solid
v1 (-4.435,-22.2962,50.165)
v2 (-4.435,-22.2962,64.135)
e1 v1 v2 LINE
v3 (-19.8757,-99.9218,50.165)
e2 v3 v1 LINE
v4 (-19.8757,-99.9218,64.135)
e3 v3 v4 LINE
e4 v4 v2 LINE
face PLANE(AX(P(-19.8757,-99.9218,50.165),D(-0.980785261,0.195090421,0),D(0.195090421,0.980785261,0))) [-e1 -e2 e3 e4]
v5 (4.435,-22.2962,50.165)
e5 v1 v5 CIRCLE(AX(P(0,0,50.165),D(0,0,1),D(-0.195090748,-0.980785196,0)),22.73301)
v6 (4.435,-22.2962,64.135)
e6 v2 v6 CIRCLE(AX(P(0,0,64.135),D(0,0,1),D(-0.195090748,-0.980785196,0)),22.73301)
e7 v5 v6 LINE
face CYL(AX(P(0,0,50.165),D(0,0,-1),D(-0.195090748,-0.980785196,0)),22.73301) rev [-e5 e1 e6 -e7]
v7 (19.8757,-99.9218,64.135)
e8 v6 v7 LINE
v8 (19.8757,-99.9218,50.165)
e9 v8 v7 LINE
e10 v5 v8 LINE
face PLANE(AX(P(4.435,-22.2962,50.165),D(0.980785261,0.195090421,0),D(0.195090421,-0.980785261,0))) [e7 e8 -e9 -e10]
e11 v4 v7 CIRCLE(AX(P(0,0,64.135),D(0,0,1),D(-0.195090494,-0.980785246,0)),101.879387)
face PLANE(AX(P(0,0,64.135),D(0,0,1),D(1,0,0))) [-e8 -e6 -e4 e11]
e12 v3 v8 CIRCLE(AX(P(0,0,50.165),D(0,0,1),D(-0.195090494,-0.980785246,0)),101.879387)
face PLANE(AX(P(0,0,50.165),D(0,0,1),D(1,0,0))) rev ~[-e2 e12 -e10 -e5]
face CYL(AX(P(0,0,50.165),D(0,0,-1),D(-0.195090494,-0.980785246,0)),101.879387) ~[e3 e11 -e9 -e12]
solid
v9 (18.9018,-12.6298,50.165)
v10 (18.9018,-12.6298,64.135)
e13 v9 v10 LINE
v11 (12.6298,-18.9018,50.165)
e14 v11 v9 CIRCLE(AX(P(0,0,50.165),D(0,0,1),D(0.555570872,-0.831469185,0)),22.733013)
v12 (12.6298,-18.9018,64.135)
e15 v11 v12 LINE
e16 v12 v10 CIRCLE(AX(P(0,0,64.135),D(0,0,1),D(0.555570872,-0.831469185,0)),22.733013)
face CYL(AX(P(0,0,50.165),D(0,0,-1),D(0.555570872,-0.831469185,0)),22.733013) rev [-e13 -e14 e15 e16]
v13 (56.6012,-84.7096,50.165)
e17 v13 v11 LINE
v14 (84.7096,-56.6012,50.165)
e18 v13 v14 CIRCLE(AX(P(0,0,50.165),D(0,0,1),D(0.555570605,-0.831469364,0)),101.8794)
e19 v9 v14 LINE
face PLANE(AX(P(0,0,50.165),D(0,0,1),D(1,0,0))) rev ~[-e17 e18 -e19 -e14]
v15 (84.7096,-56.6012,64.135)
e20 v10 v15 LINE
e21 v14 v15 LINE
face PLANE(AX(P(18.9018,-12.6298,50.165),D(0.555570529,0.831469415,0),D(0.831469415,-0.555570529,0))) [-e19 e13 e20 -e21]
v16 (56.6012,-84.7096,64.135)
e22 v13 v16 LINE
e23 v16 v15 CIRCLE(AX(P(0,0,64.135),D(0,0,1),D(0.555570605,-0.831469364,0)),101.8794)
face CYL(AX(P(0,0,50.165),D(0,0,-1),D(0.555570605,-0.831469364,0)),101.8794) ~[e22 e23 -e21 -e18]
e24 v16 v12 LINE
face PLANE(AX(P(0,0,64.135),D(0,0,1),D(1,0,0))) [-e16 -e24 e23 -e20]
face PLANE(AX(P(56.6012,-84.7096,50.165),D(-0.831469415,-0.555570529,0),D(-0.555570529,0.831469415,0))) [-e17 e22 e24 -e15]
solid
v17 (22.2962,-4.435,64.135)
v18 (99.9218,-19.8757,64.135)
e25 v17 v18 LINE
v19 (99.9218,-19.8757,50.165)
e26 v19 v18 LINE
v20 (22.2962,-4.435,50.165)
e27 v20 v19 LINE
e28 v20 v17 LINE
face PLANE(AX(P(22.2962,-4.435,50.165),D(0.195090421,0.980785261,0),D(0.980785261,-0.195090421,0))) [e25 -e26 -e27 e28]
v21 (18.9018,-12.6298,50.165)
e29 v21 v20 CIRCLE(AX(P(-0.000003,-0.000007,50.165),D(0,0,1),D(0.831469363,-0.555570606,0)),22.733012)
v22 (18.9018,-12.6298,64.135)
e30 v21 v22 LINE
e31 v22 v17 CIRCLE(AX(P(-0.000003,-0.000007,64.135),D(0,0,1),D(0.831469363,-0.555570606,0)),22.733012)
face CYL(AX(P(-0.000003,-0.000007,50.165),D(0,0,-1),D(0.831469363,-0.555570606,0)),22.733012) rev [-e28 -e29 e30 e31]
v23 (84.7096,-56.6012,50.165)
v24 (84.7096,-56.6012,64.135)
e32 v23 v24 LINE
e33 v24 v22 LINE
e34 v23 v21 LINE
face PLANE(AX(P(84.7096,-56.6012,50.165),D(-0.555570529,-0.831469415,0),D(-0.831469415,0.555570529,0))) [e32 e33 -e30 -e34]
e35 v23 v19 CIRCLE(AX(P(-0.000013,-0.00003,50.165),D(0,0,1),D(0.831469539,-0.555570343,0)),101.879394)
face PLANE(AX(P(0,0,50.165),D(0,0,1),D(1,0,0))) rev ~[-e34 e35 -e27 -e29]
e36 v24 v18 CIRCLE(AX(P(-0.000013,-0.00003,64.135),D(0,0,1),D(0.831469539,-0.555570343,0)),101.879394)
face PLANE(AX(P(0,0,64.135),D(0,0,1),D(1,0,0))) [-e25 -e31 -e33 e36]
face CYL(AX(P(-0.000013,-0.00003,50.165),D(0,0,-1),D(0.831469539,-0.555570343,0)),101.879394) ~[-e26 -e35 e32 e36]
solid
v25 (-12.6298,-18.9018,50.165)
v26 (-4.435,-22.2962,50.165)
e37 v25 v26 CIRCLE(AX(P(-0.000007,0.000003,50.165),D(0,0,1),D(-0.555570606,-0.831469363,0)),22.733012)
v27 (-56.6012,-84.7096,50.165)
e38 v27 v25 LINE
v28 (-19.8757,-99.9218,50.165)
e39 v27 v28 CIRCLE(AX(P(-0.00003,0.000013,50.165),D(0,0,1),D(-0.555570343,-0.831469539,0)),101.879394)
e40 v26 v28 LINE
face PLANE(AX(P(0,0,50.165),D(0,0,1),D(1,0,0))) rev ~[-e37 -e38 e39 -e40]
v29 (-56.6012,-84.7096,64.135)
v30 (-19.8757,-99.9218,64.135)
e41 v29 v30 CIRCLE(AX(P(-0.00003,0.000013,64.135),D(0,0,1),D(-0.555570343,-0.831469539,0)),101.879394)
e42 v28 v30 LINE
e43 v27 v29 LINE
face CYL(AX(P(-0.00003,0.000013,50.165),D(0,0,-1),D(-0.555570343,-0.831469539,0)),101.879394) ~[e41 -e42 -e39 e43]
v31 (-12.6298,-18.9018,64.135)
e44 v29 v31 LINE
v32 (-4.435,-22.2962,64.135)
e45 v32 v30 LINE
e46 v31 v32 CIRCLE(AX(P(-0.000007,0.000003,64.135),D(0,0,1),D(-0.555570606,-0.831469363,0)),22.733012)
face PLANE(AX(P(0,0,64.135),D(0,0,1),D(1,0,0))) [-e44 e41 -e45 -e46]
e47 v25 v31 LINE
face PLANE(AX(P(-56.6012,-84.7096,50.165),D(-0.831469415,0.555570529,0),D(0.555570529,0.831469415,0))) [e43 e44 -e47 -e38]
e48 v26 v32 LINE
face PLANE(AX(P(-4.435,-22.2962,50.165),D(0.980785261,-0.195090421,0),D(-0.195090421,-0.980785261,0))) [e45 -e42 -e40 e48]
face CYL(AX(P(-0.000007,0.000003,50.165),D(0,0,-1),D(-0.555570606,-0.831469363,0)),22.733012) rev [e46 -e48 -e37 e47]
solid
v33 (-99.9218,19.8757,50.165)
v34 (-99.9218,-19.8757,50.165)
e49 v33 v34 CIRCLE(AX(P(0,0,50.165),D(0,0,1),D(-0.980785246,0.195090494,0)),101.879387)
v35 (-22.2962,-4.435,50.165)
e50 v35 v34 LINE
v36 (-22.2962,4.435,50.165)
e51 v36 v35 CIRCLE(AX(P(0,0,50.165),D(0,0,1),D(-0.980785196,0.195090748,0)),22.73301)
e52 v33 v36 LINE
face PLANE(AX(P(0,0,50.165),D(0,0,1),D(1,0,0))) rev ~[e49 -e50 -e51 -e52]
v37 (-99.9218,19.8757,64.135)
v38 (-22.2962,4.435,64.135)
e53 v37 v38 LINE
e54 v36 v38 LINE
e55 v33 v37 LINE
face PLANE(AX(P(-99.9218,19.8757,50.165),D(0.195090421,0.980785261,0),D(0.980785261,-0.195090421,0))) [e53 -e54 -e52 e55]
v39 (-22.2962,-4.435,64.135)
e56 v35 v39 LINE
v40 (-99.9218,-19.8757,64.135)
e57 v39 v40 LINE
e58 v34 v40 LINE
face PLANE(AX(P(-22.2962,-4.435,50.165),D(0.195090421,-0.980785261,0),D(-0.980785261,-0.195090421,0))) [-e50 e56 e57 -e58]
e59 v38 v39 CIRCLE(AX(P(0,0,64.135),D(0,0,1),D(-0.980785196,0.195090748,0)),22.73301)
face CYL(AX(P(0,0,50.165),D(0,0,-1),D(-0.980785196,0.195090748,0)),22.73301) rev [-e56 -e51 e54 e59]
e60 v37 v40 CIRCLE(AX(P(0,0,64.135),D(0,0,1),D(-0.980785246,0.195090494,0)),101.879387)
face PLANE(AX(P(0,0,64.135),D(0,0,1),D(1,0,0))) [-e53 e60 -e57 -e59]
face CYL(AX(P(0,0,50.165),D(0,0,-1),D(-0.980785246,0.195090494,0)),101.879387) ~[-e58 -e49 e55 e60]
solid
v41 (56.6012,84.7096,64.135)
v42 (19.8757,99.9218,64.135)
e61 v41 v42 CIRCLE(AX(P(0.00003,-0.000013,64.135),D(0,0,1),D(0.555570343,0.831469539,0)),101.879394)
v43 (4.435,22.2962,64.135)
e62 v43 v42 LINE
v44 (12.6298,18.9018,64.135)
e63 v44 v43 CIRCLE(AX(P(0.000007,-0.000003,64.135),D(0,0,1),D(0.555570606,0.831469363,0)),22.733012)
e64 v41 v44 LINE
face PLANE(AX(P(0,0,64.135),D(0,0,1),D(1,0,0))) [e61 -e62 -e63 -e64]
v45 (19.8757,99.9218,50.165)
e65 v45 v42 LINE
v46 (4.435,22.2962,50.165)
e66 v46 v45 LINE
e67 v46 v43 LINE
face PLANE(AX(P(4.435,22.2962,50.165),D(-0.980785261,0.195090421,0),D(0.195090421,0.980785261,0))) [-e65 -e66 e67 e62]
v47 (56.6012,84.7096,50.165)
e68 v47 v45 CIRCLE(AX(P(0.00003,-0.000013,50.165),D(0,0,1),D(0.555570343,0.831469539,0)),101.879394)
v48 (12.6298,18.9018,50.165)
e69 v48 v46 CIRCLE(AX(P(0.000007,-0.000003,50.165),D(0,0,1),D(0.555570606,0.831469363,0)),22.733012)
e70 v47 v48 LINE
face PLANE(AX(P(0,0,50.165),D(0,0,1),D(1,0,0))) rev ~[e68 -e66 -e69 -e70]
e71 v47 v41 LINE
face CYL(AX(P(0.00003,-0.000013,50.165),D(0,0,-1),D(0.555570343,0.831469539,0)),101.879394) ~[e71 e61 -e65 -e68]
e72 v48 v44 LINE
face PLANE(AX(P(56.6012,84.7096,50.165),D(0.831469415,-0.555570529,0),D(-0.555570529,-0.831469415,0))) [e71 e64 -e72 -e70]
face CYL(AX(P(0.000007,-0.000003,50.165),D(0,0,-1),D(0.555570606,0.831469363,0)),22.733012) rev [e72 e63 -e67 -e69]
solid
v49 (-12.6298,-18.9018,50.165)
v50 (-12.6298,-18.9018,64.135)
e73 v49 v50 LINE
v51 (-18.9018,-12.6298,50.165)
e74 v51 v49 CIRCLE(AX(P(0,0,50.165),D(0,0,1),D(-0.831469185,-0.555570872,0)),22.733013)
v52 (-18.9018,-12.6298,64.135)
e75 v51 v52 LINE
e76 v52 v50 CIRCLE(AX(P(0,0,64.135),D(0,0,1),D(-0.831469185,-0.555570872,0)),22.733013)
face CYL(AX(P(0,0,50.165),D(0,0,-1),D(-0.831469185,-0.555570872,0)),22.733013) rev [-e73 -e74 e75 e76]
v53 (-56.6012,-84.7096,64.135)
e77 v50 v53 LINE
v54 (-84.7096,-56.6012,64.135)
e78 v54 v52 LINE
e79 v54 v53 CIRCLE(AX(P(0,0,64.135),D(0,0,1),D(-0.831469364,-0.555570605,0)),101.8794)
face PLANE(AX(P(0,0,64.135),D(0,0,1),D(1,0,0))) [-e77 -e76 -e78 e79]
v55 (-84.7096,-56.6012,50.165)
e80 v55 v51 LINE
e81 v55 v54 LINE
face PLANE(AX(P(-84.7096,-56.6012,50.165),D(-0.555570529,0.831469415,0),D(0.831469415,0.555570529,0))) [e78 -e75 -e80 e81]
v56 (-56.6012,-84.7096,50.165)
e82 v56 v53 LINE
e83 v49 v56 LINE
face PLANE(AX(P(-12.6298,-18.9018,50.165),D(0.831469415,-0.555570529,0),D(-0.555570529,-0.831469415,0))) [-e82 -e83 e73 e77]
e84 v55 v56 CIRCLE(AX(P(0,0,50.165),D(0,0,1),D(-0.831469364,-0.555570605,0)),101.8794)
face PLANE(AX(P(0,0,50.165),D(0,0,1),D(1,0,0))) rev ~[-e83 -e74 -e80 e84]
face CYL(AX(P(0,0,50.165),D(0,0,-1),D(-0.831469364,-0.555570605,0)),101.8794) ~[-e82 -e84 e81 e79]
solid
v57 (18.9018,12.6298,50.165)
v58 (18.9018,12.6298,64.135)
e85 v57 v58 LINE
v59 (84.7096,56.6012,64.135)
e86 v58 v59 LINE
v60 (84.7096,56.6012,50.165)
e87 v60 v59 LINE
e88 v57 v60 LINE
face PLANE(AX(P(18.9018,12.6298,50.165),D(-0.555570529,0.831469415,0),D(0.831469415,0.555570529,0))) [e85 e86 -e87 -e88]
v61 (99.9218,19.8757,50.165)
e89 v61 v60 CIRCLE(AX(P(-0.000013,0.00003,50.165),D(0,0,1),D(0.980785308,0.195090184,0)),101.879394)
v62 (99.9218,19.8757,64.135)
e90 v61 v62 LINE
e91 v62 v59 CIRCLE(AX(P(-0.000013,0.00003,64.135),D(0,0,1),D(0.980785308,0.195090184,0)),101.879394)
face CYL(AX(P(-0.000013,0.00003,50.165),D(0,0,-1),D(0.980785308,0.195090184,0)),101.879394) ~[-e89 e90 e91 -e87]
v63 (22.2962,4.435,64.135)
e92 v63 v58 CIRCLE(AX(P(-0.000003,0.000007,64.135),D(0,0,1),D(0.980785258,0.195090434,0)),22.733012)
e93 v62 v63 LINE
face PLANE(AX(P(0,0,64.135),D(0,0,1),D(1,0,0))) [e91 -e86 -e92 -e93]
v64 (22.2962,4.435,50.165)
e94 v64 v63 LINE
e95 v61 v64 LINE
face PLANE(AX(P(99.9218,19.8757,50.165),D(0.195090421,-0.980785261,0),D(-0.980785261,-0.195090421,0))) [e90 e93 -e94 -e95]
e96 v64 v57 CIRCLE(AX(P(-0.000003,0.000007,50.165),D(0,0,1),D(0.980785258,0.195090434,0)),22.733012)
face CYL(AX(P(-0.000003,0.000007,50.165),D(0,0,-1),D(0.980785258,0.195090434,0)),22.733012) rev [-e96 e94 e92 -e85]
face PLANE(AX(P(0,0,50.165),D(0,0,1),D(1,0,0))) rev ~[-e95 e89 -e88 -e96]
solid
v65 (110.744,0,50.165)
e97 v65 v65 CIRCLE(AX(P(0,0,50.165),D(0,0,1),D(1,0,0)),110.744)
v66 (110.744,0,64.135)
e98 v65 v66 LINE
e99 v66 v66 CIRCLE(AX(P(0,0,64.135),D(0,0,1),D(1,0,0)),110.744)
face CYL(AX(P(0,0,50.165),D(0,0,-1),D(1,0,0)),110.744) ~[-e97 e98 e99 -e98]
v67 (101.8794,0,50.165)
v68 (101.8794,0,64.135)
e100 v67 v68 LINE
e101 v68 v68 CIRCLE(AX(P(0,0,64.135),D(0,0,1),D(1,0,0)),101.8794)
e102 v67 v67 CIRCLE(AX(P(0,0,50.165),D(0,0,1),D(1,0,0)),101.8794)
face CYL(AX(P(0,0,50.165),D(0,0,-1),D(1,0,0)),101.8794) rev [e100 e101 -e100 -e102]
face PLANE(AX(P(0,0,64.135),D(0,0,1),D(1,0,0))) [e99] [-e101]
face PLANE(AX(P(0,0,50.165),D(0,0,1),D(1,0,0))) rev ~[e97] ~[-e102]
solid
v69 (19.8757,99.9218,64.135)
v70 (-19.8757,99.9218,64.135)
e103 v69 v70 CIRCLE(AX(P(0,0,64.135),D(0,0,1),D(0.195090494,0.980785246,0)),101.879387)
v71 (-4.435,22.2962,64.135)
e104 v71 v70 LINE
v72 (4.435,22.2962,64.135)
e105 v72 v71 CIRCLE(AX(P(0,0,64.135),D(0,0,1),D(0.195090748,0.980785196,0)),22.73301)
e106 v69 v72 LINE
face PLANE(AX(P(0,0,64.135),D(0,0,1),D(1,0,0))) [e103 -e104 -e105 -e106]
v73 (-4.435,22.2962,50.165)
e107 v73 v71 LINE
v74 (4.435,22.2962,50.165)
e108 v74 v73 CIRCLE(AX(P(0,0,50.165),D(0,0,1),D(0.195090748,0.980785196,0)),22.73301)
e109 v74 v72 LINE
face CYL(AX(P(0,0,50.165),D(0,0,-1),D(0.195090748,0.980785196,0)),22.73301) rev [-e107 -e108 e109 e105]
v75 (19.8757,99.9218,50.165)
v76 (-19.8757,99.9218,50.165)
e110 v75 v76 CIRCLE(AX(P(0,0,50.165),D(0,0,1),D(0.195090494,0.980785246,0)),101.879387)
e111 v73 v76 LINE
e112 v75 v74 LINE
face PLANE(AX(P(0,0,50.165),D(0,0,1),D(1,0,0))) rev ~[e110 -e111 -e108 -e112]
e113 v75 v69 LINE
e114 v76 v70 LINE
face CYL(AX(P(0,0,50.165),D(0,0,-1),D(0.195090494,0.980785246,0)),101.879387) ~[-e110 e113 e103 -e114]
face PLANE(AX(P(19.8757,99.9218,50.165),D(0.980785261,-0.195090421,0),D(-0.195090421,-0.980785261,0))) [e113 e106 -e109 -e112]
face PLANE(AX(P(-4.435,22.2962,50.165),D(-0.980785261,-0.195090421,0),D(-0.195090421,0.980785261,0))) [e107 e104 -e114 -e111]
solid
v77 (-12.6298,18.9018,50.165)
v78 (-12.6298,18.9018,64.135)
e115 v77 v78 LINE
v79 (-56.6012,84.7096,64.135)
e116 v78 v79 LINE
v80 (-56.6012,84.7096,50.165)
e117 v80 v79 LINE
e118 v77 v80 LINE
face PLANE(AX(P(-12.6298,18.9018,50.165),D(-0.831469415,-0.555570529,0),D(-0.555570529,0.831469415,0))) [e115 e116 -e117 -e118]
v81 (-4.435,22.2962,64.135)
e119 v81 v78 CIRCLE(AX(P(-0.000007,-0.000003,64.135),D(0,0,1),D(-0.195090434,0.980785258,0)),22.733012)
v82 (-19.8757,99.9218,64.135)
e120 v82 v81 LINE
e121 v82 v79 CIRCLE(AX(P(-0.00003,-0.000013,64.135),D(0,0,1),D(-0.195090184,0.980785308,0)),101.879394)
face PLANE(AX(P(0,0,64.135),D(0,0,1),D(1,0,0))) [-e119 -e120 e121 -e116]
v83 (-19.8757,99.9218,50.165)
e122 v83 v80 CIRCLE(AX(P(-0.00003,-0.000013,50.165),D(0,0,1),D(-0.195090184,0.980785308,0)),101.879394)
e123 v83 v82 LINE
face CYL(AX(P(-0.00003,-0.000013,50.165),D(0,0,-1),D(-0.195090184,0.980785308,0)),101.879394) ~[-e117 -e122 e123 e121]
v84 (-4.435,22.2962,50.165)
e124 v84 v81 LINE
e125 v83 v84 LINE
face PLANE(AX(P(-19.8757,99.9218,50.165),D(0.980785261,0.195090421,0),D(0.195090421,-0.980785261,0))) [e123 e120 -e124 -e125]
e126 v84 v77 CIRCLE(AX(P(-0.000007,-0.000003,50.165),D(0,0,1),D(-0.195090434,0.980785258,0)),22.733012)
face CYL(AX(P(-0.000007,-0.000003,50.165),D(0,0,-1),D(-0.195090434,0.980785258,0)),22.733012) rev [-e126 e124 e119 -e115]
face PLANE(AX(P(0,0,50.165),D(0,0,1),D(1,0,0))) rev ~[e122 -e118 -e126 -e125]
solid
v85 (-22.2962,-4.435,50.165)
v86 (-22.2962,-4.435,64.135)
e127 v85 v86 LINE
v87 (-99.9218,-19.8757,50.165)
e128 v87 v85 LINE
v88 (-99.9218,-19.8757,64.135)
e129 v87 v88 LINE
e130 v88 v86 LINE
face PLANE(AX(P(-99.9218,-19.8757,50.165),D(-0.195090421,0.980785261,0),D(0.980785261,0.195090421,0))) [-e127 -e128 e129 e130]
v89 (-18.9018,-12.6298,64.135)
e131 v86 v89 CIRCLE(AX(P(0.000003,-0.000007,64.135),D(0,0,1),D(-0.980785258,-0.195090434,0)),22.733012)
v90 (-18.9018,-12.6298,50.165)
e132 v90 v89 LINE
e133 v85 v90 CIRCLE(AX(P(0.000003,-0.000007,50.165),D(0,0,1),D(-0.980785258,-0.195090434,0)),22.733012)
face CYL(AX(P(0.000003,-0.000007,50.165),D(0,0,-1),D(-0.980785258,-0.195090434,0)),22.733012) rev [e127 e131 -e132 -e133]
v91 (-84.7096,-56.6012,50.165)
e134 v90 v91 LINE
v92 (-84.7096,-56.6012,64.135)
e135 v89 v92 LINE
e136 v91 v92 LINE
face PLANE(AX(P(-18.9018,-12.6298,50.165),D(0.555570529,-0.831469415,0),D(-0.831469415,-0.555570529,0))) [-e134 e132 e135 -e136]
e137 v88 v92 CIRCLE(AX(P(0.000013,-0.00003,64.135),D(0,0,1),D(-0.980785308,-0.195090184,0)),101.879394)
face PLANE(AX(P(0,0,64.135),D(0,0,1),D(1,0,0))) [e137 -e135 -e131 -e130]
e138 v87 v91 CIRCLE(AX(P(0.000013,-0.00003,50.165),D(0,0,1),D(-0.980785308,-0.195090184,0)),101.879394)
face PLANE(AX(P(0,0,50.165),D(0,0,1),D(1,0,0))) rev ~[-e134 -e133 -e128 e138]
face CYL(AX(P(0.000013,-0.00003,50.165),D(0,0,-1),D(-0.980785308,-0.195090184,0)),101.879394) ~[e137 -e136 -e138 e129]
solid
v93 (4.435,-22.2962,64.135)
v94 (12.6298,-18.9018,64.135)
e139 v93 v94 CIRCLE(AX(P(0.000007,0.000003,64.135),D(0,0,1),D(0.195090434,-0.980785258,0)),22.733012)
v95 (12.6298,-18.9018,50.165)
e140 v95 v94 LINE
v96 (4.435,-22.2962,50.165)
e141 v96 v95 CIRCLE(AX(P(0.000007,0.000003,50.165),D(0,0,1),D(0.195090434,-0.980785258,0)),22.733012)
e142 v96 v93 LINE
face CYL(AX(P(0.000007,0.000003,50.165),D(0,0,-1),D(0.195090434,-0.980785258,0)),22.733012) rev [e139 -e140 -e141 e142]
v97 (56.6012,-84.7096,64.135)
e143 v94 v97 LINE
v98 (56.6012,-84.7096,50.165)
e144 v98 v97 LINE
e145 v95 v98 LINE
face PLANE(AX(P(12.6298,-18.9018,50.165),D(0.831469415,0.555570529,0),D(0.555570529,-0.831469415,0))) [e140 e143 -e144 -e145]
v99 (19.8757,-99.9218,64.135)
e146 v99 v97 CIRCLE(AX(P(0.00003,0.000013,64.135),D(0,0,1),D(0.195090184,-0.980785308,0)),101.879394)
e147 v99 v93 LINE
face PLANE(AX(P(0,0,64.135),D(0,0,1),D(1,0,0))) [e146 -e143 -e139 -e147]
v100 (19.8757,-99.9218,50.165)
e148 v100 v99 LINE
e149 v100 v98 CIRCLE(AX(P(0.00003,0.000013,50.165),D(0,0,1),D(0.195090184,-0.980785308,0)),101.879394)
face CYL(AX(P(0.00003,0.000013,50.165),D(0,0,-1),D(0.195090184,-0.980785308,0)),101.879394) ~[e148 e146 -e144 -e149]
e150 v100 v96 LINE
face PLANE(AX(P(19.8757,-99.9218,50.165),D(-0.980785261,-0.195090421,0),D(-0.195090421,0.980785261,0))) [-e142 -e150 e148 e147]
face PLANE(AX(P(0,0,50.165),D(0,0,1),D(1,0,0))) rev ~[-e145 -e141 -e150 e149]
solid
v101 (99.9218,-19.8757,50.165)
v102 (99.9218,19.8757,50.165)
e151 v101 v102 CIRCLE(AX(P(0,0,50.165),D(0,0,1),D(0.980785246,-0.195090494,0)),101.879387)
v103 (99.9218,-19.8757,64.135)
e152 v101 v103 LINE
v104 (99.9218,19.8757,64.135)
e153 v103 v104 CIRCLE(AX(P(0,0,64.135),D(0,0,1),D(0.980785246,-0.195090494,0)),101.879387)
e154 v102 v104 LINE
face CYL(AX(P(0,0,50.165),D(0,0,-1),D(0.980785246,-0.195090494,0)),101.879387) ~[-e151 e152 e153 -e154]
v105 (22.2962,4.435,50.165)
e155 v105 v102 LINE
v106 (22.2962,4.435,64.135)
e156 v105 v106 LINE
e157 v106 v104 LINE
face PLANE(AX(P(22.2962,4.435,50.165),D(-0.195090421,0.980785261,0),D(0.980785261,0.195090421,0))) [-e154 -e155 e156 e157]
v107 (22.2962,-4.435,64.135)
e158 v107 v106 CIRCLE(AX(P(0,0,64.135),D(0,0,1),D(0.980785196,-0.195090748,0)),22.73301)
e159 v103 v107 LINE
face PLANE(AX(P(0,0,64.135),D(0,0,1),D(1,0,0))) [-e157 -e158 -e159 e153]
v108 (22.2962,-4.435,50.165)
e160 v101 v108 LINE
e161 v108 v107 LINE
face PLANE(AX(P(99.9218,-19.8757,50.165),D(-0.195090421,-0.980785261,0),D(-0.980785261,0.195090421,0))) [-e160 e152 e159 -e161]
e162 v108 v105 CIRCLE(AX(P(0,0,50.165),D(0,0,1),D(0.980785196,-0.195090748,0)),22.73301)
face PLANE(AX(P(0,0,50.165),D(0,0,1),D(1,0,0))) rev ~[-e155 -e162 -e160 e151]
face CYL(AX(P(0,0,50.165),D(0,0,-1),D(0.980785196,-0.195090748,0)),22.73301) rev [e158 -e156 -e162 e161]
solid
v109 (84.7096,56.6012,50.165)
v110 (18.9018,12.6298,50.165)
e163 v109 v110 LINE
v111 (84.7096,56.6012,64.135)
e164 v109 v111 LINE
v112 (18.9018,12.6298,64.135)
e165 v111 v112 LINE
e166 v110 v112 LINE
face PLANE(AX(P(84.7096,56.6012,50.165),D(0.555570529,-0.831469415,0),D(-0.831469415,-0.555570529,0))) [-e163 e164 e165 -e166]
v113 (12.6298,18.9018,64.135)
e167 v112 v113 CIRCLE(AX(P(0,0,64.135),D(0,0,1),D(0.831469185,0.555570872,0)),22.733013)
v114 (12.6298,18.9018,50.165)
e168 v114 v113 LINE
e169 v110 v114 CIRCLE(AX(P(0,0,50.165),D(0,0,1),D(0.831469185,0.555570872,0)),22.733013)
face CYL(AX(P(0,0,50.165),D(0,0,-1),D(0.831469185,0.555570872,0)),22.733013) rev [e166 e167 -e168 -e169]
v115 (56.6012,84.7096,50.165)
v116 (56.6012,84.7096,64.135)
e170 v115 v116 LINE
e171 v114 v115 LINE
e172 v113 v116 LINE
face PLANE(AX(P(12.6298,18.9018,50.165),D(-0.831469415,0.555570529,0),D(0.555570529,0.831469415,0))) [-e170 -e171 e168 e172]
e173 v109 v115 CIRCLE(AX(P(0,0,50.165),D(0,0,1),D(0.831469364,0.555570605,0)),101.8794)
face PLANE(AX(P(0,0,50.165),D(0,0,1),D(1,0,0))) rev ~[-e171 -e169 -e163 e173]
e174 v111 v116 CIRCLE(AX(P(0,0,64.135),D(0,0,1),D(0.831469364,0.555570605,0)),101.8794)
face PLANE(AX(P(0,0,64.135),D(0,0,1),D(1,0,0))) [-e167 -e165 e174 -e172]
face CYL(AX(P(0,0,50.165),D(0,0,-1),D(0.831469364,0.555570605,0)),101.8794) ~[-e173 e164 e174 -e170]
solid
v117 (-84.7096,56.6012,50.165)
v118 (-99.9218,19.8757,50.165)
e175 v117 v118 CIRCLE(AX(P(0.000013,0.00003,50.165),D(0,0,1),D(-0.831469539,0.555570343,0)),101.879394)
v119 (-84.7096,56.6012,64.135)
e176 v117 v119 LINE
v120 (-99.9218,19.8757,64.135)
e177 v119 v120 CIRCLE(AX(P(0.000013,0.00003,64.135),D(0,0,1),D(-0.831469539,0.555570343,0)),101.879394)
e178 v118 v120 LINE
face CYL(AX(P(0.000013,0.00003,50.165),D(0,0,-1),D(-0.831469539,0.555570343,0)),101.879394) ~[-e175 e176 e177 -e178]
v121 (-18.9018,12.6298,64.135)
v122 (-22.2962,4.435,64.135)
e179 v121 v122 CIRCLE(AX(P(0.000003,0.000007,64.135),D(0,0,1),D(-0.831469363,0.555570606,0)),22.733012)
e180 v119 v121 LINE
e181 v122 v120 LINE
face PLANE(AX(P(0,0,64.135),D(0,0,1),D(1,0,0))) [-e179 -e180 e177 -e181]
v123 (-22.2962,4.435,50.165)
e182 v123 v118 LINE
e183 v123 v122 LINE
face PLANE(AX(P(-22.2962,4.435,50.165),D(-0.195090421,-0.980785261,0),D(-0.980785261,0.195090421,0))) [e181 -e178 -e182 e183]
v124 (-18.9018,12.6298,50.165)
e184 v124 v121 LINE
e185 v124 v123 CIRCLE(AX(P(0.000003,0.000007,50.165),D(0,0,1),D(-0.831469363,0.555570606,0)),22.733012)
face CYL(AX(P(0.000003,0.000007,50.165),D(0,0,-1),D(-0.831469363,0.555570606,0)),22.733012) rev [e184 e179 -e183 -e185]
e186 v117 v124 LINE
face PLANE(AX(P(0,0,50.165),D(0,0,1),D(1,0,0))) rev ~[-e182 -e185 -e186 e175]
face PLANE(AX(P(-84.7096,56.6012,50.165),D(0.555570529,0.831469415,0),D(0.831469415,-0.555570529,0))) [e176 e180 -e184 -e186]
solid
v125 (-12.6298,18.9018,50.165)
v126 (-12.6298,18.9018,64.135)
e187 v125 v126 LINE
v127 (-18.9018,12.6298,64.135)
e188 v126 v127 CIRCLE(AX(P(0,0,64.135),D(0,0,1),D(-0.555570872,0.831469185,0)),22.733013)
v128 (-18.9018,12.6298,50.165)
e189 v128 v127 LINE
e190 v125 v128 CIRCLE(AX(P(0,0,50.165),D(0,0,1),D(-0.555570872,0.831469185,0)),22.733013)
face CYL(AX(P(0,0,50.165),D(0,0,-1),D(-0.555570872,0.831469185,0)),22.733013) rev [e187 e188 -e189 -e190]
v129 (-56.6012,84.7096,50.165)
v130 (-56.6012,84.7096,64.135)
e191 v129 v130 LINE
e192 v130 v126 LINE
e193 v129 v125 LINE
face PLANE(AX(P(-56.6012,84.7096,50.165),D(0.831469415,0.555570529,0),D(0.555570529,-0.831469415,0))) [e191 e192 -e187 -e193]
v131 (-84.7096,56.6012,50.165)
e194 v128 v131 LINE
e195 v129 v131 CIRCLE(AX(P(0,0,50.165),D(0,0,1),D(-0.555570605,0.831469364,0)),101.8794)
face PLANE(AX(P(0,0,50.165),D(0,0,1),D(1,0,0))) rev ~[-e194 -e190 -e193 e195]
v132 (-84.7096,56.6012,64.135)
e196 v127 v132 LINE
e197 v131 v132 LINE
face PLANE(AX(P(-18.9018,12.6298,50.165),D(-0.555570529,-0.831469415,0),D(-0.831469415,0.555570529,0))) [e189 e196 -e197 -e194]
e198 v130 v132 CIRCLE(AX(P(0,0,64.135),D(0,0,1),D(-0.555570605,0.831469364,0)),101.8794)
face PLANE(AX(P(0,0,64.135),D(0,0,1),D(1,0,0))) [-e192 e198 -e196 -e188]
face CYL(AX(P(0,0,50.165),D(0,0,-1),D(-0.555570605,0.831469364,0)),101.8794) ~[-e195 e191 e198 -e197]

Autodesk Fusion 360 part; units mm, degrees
ref_plane "WorkPlane1" through (0, 0, 50.165) normal (0, 0, 1) x (1, 0, 0)
sketch "Sketch1" plane through (0, 0, 50.165) normal (0, 0, 1) x (1, 0, 0)
  arc A0 (22.2962, -4.435) -> (22.2962, 4.435) centre (0, 0) ccw
  line L0 (22.2962, 4.435) -> (99.9218, 19.8757)
  arc A1 (99.9218, -19.8757) -> (99.9218, 19.8757) centre (0, 0) ccw
  line L1 (99.9218, -19.8757) -> (22.2962, -4.435)
extrude "Extrude1" add sketch "Sketch1" along normal blind 13.97 makes body 1
ref_plane "WorkPlane2" through (0, 0, 50.165) normal (0, 0, 1) x (1, 0, 0)
sketch "Sketch2" plane through (0, 0, 50.165) normal (0, 0, 1) x (1, 0, 0)
  arc A0 (22.2962, 4.435) -> (18.9018, 12.6298) centre (0, 0) ccw
  line L0 (18.9018, 12.6298) -> (84.7096, 56.6012)
  arc A1 (99.9218, 19.8757) -> (84.7096, 56.6012) centre (0, 0) ccw
  line L1 (99.9218, 19.8757) -> (22.2962, 4.435)
extrude "Extrude2" add sketch "Sketch2" along normal blind 13.97 separate body makes body 2
ref_plane "WorkPlane3" through (0, 0, 50.165) normal (0, 0, 1) x (1, 0, 0)
sketch "Sketch3" plane through (0, 0, 50.165) normal (0, 0, 1) x (1, 0, 0)
  arc A0 (18.9018, 12.6298) -> (12.6298, 18.9018) centre (0, 0) ccw
  line L0 (12.6298, 18.9018) -> (56.6012, 84.7096)
  arc A1 (84.7096, 56.6012) -> (56.6012, 84.7096) centre (0, 0) ccw
  line L1 (84.7096, 56.6012) -> (18.9018, 12.6298)
extrude "Extrude3" add sketch "Sketch3" along normal blind 13.97 separate body makes body 3
ref_plane "WorkPlane4" through (0, 0, 50.165) normal (0, 0, 1) x (1, 0, 0)
sketch "Sketch4" plane through (0, 0, 50.165) normal (0, 0, 1) x (1, 0, 0)
  arc A0 (12.6298, 18.9018) -> (4.435, 22.2962) centre (0, 0) ccw
  line L0 (4.435, 22.2962) -> (19.8757, 99.9218)
  arc A1 (56.6012, 84.7096) -> (19.8757, 99.9218) centre (0, 0) ccw
  line L1 (56.6012, 84.7096) -> (12.6298, 18.9018)
extrude "Extrude4" add sketch "Sketch4" along normal blind 13.97 separate body makes body 4
ref_plane "WorkPlane5" through (0, 0, 50.165) normal (0, 0, 1) x (1, 0, 0)
sketch "Sketch5" plane through (0, 0, 50.165) normal (0, 0, 1) x (1, 0, 0)
  arc A0 (4.435, 22.2962) -> (-4.435, 22.2962) centre (0, 0) ccw
  line L0 (-4.435, 22.2962) -> (-19.8757, 99.9218)
  arc A1 (19.8757, 99.9218) -> (-19.8757, 99.9218) centre (0, 0) ccw
  line L1 (19.8757, 99.9218) -> (4.435, 22.2962)
extrude "Extrude5" add sketch "Sketch5" along normal blind 13.97 separate body makes body 5
ref_plane "WorkPlane6" through (0, 0, 50.165) normal (0, 0, 1) x (1, 0, 0)
sketch "Sketch6" plane through (0, 0, 50.165) normal (0, 0, 1) x (1, 0, 0)
  arc A0 (-4.435, 22.2962) -> (-12.6298, 18.9018) centre (0, 0) ccw
  line L0 (-12.6298, 18.9018) -> (-56.6012, 84.7096)
  arc A1 (-19.8757, 99.9218) -> (-56.6012, 84.7096) centre (0, 0) ccw
  line L1 (-19.8757, 99.9218) -> (-4.435, 22.2962)
extrude "Extrude6" add sketch "Sketch6" along normal blind 13.97 separate body makes body 6
ref_plane "WorkPlane7" through (0, 0, 50.165) normal (0, 0, 1) x (1, 0, 0)
sketch "Sketch7" plane through (0, 0, 50.165) normal (0, 0, 1) x (1, 0, 0)
  arc A0 (-12.6298, 18.9018) -> (-18.9018, 12.6298) centre (0, 0) ccw
  line L0 (-18.9018, 12.6298) -> (-84.7096, 56.6012)
  arc A1 (-56.6012, 84.7096) -> (-84.7096, 56.6012) centre (0, 0) ccw
  line L1 (-56.6012, 84.7096) -> (-12.6298, 18.9018)
extrude "Extrude7" add sketch "Sketch7" along normal blind 13.97 separate body makes body 7
ref_plane "WorkPlane8" through (0, 0, 50.165) normal (0, 0, 1) x (1, 0, 0)
sketch "Sketch8" plane through (0, 0, 50.165) normal (0, 0, 1) x (1, 0, 0)
  arc A0 (-18.9018, 12.6298) -> (-22.2962, 4.435) centre (0, 0) ccw
  line L0 (-22.2962, 4.435) -> (-99.9218, 19.8757)
  arc A1 (-84.7096, 56.6012) -> (-99.9218, 19.8757) centre (0, 0) ccw
  line L1 (-84.7096, 56.6012) -> (-18.9018, 12.6298)
extrude "Extrude8" add sketch "Sketch8" along normal blind 13.97 separate body makes body 8
ref_plane "WorkPlane9" through (0, 0, 50.165) normal (0, 0, 1) x (1, 0, 0)
sketch "Sketch9" plane through (0, 0, 50.165) normal (0, 0, 1) x (1, 0, 0)
  arc A0 (-22.2962, 4.435) -> (-22.2962, -4.435) centre (0, 0) ccw
  line L0 (-22.2962, -4.435) -> (-99.9218, -19.8757)
  arc A1 (-99.9218, 19.8757) -> (-99.9218, -19.8757) centre (0, 0) ccw
  line L1 (-99.9218, 19.8757) -> (-22.2962, 4.435)
extrude "Extrude9" add sketch "Sketch9" along normal blind 13.97 separate body makes body 9
ref_plane "WorkPlane10" through (0, 0, 50.165) normal (0, 0, 1) x (1, 0, 0)
sketch "Sketch10" plane through (0, 0, 50.165) normal (0, 0, 1) x (1, 0, 0)
  arc A0 (-22.2962, -4.435) -> (-18.9018, -12.6298) centre (0, 0) ccw
  line L0 (-18.9018, -12.6298) -> (-84.7096, -56.6012)
  arc A1 (-99.9218, -19.8757) -> (-84.7096, -56.6012) centre (0, 0) ccw
  line L1 (-99.9218, -19.8757) -> (-22.2962, -4.435)
extrude "Extrude10" add sketch "Sketch10" along normal blind 13.97 separate body makes body 10
ref_plane "WorkPlane11" through (0, 0, 50.165) normal (0, 0, 1) x (1, 0, 0)
sketch "Sketch11" plane through (0, 0, 50.165) normal (0, 0, 1) x (1, 0, 0)
  arc A0 (-18.9018, -12.6298) -> (-12.6298, -18.9018) centre (0, 0) ccw
  line L0 (-12.6298, -18.9018) -> (-56.6012, -84.7096)
  arc A1 (-84.7096, -56.6012) -> (-56.6012, -84.7096) centre (0, 0) ccw
  line L1 (-84.7096, -56.6012) -> (-18.9018, -12.6298)
extrude "Extrude11" add sketch "Sketch11" along normal blind 13.97 separate body makes body 11
ref_plane "WorkPlane12" through (0, 0, 50.165) normal (0, 0, 1) x (1, 0, 0)
sketch "Sketch12" plane through (0, 0, 50.165) normal (0, 0, 1) x (1, 0, 0)
  arc A0 (-12.6298, -18.9018) -> (-4.435, -22.2962) centre (0, 0) ccw
  line L0 (-4.435, -22.2962) -> (-19.8757, -99.9218)
  arc A1 (-56.6012, -84.7096) -> (-19.8757, -99.9218) centre (0, 0) ccw
  line L1 (-56.6012, -84.7096) -> (-12.6298, -18.9018)
extrude "Extrude12" add sketch "Sketch12" along normal blind 13.97 separate body makes body 12
ref_plane "WorkPlane13" through (0, 0, 50.165) normal (0, 0, 1) x (1, 0, 0)
sketch "Sketch13" plane through (0, 0, 50.165) normal (0, 0, 1) x (1, 0, 0)
  arc A0 (-4.435, -22.2962) -> (4.435, -22.2962) centre (0, 0) ccw
  line L0 (4.435, -22.2962) -> (19.8757, -99.9218)
  arc A1 (-19.8757, -99.9218) -> (19.8757, -99.9218) centre (0, 0) ccw
  line L1 (-19.8757, -99.9218) -> (-4.435, -22.2962)
extrude "Extrude13" add sketch "Sketch13" along normal blind 13.97 separate body makes body 13
ref_plane "WorkPlane14" through (0, 0, 50.165) normal (0, 0, 1) x (1, 0, 0)
sketch "Sketch14" plane through (0, 0, 50.165) normal (0, 0, 1) x (1, 0, 0)
  arc A0 (4.435, -22.2962) -> (12.6298, -18.9018) centre (0, 0) ccw
  line L0 (12.6298, -18.9018) -> (56.6012, -84.7096)
  arc A1 (19.8757, -99.9218) -> (56.6012, -84.7096) centre (0, 0) ccw
  line L1 (19.8757, -99.9218) -> (4.435, -22.2962)
extrude "Extrude14" add sketch "Sketch14" along normal blind 13.97 separate body makes body 14
ref_plane "WorkPlane15" through (0, 0, 50.165) normal (0, 0, 1) x (1, 0, 0)
sketch "Sketch15" plane through (0, 0, 50.165) normal (0, 0, 1) x (1, 0, 0)
  arc A0 (12.6298, -18.9018) -> (18.9018, -12.6298) centre (0, 0) ccw
  line L0 (18.9018, -12.6298) -> (84.7096, -56.6012)
  arc A1 (56.6012, -84.7096) -> (84.7096, -56.6012) centre (0, 0) ccw
  line L1 (56.6012, -84.7096) -> (12.6298, -18.9018)
extrude "Extrude15" add sketch "Sketch15" along normal blind 13.97 separate body makes body 15
ref_plane "WorkPlane16" through (0, 0, 50.165) normal (0, 0, 1) x (1, 0, 0)
sketch "Sketch16" plane through (0, 0, 50.165) normal (0, 0, 1) x (1, 0, 0)
  arc A0 (18.9018, -12.6298) -> (22.2962, -4.435) centre (0, 0) ccw
  line L0 (22.2962, -4.435) -> (99.9218, -19.8757)
  arc A1 (84.7096, -56.6012) -> (99.9218, -19.8757) centre (0, 0) ccw
  line L1 (84.7096, -56.6012) -> (18.9018, -12.6298)
extrude "Extrude16" add sketch "Sketch16" along normal blind 13.97 separate body makes body 16
ref_plane "WorkPlane17" through (0, 0, 50.165) normal (0, 0, 1) x (1, 0, 0)
sketch "Sketch17" plane through (0, 0, 50.165) normal (0, 0, 1) x (1, 0, 0)
  circle A0 centre (0, 0) radius 110.744
  circle A1 centre (0, 0) radius 101.8794
extrude "Extrude17" add sketch "Sketch17" along normal blind 13.97 separate body makes body 17
